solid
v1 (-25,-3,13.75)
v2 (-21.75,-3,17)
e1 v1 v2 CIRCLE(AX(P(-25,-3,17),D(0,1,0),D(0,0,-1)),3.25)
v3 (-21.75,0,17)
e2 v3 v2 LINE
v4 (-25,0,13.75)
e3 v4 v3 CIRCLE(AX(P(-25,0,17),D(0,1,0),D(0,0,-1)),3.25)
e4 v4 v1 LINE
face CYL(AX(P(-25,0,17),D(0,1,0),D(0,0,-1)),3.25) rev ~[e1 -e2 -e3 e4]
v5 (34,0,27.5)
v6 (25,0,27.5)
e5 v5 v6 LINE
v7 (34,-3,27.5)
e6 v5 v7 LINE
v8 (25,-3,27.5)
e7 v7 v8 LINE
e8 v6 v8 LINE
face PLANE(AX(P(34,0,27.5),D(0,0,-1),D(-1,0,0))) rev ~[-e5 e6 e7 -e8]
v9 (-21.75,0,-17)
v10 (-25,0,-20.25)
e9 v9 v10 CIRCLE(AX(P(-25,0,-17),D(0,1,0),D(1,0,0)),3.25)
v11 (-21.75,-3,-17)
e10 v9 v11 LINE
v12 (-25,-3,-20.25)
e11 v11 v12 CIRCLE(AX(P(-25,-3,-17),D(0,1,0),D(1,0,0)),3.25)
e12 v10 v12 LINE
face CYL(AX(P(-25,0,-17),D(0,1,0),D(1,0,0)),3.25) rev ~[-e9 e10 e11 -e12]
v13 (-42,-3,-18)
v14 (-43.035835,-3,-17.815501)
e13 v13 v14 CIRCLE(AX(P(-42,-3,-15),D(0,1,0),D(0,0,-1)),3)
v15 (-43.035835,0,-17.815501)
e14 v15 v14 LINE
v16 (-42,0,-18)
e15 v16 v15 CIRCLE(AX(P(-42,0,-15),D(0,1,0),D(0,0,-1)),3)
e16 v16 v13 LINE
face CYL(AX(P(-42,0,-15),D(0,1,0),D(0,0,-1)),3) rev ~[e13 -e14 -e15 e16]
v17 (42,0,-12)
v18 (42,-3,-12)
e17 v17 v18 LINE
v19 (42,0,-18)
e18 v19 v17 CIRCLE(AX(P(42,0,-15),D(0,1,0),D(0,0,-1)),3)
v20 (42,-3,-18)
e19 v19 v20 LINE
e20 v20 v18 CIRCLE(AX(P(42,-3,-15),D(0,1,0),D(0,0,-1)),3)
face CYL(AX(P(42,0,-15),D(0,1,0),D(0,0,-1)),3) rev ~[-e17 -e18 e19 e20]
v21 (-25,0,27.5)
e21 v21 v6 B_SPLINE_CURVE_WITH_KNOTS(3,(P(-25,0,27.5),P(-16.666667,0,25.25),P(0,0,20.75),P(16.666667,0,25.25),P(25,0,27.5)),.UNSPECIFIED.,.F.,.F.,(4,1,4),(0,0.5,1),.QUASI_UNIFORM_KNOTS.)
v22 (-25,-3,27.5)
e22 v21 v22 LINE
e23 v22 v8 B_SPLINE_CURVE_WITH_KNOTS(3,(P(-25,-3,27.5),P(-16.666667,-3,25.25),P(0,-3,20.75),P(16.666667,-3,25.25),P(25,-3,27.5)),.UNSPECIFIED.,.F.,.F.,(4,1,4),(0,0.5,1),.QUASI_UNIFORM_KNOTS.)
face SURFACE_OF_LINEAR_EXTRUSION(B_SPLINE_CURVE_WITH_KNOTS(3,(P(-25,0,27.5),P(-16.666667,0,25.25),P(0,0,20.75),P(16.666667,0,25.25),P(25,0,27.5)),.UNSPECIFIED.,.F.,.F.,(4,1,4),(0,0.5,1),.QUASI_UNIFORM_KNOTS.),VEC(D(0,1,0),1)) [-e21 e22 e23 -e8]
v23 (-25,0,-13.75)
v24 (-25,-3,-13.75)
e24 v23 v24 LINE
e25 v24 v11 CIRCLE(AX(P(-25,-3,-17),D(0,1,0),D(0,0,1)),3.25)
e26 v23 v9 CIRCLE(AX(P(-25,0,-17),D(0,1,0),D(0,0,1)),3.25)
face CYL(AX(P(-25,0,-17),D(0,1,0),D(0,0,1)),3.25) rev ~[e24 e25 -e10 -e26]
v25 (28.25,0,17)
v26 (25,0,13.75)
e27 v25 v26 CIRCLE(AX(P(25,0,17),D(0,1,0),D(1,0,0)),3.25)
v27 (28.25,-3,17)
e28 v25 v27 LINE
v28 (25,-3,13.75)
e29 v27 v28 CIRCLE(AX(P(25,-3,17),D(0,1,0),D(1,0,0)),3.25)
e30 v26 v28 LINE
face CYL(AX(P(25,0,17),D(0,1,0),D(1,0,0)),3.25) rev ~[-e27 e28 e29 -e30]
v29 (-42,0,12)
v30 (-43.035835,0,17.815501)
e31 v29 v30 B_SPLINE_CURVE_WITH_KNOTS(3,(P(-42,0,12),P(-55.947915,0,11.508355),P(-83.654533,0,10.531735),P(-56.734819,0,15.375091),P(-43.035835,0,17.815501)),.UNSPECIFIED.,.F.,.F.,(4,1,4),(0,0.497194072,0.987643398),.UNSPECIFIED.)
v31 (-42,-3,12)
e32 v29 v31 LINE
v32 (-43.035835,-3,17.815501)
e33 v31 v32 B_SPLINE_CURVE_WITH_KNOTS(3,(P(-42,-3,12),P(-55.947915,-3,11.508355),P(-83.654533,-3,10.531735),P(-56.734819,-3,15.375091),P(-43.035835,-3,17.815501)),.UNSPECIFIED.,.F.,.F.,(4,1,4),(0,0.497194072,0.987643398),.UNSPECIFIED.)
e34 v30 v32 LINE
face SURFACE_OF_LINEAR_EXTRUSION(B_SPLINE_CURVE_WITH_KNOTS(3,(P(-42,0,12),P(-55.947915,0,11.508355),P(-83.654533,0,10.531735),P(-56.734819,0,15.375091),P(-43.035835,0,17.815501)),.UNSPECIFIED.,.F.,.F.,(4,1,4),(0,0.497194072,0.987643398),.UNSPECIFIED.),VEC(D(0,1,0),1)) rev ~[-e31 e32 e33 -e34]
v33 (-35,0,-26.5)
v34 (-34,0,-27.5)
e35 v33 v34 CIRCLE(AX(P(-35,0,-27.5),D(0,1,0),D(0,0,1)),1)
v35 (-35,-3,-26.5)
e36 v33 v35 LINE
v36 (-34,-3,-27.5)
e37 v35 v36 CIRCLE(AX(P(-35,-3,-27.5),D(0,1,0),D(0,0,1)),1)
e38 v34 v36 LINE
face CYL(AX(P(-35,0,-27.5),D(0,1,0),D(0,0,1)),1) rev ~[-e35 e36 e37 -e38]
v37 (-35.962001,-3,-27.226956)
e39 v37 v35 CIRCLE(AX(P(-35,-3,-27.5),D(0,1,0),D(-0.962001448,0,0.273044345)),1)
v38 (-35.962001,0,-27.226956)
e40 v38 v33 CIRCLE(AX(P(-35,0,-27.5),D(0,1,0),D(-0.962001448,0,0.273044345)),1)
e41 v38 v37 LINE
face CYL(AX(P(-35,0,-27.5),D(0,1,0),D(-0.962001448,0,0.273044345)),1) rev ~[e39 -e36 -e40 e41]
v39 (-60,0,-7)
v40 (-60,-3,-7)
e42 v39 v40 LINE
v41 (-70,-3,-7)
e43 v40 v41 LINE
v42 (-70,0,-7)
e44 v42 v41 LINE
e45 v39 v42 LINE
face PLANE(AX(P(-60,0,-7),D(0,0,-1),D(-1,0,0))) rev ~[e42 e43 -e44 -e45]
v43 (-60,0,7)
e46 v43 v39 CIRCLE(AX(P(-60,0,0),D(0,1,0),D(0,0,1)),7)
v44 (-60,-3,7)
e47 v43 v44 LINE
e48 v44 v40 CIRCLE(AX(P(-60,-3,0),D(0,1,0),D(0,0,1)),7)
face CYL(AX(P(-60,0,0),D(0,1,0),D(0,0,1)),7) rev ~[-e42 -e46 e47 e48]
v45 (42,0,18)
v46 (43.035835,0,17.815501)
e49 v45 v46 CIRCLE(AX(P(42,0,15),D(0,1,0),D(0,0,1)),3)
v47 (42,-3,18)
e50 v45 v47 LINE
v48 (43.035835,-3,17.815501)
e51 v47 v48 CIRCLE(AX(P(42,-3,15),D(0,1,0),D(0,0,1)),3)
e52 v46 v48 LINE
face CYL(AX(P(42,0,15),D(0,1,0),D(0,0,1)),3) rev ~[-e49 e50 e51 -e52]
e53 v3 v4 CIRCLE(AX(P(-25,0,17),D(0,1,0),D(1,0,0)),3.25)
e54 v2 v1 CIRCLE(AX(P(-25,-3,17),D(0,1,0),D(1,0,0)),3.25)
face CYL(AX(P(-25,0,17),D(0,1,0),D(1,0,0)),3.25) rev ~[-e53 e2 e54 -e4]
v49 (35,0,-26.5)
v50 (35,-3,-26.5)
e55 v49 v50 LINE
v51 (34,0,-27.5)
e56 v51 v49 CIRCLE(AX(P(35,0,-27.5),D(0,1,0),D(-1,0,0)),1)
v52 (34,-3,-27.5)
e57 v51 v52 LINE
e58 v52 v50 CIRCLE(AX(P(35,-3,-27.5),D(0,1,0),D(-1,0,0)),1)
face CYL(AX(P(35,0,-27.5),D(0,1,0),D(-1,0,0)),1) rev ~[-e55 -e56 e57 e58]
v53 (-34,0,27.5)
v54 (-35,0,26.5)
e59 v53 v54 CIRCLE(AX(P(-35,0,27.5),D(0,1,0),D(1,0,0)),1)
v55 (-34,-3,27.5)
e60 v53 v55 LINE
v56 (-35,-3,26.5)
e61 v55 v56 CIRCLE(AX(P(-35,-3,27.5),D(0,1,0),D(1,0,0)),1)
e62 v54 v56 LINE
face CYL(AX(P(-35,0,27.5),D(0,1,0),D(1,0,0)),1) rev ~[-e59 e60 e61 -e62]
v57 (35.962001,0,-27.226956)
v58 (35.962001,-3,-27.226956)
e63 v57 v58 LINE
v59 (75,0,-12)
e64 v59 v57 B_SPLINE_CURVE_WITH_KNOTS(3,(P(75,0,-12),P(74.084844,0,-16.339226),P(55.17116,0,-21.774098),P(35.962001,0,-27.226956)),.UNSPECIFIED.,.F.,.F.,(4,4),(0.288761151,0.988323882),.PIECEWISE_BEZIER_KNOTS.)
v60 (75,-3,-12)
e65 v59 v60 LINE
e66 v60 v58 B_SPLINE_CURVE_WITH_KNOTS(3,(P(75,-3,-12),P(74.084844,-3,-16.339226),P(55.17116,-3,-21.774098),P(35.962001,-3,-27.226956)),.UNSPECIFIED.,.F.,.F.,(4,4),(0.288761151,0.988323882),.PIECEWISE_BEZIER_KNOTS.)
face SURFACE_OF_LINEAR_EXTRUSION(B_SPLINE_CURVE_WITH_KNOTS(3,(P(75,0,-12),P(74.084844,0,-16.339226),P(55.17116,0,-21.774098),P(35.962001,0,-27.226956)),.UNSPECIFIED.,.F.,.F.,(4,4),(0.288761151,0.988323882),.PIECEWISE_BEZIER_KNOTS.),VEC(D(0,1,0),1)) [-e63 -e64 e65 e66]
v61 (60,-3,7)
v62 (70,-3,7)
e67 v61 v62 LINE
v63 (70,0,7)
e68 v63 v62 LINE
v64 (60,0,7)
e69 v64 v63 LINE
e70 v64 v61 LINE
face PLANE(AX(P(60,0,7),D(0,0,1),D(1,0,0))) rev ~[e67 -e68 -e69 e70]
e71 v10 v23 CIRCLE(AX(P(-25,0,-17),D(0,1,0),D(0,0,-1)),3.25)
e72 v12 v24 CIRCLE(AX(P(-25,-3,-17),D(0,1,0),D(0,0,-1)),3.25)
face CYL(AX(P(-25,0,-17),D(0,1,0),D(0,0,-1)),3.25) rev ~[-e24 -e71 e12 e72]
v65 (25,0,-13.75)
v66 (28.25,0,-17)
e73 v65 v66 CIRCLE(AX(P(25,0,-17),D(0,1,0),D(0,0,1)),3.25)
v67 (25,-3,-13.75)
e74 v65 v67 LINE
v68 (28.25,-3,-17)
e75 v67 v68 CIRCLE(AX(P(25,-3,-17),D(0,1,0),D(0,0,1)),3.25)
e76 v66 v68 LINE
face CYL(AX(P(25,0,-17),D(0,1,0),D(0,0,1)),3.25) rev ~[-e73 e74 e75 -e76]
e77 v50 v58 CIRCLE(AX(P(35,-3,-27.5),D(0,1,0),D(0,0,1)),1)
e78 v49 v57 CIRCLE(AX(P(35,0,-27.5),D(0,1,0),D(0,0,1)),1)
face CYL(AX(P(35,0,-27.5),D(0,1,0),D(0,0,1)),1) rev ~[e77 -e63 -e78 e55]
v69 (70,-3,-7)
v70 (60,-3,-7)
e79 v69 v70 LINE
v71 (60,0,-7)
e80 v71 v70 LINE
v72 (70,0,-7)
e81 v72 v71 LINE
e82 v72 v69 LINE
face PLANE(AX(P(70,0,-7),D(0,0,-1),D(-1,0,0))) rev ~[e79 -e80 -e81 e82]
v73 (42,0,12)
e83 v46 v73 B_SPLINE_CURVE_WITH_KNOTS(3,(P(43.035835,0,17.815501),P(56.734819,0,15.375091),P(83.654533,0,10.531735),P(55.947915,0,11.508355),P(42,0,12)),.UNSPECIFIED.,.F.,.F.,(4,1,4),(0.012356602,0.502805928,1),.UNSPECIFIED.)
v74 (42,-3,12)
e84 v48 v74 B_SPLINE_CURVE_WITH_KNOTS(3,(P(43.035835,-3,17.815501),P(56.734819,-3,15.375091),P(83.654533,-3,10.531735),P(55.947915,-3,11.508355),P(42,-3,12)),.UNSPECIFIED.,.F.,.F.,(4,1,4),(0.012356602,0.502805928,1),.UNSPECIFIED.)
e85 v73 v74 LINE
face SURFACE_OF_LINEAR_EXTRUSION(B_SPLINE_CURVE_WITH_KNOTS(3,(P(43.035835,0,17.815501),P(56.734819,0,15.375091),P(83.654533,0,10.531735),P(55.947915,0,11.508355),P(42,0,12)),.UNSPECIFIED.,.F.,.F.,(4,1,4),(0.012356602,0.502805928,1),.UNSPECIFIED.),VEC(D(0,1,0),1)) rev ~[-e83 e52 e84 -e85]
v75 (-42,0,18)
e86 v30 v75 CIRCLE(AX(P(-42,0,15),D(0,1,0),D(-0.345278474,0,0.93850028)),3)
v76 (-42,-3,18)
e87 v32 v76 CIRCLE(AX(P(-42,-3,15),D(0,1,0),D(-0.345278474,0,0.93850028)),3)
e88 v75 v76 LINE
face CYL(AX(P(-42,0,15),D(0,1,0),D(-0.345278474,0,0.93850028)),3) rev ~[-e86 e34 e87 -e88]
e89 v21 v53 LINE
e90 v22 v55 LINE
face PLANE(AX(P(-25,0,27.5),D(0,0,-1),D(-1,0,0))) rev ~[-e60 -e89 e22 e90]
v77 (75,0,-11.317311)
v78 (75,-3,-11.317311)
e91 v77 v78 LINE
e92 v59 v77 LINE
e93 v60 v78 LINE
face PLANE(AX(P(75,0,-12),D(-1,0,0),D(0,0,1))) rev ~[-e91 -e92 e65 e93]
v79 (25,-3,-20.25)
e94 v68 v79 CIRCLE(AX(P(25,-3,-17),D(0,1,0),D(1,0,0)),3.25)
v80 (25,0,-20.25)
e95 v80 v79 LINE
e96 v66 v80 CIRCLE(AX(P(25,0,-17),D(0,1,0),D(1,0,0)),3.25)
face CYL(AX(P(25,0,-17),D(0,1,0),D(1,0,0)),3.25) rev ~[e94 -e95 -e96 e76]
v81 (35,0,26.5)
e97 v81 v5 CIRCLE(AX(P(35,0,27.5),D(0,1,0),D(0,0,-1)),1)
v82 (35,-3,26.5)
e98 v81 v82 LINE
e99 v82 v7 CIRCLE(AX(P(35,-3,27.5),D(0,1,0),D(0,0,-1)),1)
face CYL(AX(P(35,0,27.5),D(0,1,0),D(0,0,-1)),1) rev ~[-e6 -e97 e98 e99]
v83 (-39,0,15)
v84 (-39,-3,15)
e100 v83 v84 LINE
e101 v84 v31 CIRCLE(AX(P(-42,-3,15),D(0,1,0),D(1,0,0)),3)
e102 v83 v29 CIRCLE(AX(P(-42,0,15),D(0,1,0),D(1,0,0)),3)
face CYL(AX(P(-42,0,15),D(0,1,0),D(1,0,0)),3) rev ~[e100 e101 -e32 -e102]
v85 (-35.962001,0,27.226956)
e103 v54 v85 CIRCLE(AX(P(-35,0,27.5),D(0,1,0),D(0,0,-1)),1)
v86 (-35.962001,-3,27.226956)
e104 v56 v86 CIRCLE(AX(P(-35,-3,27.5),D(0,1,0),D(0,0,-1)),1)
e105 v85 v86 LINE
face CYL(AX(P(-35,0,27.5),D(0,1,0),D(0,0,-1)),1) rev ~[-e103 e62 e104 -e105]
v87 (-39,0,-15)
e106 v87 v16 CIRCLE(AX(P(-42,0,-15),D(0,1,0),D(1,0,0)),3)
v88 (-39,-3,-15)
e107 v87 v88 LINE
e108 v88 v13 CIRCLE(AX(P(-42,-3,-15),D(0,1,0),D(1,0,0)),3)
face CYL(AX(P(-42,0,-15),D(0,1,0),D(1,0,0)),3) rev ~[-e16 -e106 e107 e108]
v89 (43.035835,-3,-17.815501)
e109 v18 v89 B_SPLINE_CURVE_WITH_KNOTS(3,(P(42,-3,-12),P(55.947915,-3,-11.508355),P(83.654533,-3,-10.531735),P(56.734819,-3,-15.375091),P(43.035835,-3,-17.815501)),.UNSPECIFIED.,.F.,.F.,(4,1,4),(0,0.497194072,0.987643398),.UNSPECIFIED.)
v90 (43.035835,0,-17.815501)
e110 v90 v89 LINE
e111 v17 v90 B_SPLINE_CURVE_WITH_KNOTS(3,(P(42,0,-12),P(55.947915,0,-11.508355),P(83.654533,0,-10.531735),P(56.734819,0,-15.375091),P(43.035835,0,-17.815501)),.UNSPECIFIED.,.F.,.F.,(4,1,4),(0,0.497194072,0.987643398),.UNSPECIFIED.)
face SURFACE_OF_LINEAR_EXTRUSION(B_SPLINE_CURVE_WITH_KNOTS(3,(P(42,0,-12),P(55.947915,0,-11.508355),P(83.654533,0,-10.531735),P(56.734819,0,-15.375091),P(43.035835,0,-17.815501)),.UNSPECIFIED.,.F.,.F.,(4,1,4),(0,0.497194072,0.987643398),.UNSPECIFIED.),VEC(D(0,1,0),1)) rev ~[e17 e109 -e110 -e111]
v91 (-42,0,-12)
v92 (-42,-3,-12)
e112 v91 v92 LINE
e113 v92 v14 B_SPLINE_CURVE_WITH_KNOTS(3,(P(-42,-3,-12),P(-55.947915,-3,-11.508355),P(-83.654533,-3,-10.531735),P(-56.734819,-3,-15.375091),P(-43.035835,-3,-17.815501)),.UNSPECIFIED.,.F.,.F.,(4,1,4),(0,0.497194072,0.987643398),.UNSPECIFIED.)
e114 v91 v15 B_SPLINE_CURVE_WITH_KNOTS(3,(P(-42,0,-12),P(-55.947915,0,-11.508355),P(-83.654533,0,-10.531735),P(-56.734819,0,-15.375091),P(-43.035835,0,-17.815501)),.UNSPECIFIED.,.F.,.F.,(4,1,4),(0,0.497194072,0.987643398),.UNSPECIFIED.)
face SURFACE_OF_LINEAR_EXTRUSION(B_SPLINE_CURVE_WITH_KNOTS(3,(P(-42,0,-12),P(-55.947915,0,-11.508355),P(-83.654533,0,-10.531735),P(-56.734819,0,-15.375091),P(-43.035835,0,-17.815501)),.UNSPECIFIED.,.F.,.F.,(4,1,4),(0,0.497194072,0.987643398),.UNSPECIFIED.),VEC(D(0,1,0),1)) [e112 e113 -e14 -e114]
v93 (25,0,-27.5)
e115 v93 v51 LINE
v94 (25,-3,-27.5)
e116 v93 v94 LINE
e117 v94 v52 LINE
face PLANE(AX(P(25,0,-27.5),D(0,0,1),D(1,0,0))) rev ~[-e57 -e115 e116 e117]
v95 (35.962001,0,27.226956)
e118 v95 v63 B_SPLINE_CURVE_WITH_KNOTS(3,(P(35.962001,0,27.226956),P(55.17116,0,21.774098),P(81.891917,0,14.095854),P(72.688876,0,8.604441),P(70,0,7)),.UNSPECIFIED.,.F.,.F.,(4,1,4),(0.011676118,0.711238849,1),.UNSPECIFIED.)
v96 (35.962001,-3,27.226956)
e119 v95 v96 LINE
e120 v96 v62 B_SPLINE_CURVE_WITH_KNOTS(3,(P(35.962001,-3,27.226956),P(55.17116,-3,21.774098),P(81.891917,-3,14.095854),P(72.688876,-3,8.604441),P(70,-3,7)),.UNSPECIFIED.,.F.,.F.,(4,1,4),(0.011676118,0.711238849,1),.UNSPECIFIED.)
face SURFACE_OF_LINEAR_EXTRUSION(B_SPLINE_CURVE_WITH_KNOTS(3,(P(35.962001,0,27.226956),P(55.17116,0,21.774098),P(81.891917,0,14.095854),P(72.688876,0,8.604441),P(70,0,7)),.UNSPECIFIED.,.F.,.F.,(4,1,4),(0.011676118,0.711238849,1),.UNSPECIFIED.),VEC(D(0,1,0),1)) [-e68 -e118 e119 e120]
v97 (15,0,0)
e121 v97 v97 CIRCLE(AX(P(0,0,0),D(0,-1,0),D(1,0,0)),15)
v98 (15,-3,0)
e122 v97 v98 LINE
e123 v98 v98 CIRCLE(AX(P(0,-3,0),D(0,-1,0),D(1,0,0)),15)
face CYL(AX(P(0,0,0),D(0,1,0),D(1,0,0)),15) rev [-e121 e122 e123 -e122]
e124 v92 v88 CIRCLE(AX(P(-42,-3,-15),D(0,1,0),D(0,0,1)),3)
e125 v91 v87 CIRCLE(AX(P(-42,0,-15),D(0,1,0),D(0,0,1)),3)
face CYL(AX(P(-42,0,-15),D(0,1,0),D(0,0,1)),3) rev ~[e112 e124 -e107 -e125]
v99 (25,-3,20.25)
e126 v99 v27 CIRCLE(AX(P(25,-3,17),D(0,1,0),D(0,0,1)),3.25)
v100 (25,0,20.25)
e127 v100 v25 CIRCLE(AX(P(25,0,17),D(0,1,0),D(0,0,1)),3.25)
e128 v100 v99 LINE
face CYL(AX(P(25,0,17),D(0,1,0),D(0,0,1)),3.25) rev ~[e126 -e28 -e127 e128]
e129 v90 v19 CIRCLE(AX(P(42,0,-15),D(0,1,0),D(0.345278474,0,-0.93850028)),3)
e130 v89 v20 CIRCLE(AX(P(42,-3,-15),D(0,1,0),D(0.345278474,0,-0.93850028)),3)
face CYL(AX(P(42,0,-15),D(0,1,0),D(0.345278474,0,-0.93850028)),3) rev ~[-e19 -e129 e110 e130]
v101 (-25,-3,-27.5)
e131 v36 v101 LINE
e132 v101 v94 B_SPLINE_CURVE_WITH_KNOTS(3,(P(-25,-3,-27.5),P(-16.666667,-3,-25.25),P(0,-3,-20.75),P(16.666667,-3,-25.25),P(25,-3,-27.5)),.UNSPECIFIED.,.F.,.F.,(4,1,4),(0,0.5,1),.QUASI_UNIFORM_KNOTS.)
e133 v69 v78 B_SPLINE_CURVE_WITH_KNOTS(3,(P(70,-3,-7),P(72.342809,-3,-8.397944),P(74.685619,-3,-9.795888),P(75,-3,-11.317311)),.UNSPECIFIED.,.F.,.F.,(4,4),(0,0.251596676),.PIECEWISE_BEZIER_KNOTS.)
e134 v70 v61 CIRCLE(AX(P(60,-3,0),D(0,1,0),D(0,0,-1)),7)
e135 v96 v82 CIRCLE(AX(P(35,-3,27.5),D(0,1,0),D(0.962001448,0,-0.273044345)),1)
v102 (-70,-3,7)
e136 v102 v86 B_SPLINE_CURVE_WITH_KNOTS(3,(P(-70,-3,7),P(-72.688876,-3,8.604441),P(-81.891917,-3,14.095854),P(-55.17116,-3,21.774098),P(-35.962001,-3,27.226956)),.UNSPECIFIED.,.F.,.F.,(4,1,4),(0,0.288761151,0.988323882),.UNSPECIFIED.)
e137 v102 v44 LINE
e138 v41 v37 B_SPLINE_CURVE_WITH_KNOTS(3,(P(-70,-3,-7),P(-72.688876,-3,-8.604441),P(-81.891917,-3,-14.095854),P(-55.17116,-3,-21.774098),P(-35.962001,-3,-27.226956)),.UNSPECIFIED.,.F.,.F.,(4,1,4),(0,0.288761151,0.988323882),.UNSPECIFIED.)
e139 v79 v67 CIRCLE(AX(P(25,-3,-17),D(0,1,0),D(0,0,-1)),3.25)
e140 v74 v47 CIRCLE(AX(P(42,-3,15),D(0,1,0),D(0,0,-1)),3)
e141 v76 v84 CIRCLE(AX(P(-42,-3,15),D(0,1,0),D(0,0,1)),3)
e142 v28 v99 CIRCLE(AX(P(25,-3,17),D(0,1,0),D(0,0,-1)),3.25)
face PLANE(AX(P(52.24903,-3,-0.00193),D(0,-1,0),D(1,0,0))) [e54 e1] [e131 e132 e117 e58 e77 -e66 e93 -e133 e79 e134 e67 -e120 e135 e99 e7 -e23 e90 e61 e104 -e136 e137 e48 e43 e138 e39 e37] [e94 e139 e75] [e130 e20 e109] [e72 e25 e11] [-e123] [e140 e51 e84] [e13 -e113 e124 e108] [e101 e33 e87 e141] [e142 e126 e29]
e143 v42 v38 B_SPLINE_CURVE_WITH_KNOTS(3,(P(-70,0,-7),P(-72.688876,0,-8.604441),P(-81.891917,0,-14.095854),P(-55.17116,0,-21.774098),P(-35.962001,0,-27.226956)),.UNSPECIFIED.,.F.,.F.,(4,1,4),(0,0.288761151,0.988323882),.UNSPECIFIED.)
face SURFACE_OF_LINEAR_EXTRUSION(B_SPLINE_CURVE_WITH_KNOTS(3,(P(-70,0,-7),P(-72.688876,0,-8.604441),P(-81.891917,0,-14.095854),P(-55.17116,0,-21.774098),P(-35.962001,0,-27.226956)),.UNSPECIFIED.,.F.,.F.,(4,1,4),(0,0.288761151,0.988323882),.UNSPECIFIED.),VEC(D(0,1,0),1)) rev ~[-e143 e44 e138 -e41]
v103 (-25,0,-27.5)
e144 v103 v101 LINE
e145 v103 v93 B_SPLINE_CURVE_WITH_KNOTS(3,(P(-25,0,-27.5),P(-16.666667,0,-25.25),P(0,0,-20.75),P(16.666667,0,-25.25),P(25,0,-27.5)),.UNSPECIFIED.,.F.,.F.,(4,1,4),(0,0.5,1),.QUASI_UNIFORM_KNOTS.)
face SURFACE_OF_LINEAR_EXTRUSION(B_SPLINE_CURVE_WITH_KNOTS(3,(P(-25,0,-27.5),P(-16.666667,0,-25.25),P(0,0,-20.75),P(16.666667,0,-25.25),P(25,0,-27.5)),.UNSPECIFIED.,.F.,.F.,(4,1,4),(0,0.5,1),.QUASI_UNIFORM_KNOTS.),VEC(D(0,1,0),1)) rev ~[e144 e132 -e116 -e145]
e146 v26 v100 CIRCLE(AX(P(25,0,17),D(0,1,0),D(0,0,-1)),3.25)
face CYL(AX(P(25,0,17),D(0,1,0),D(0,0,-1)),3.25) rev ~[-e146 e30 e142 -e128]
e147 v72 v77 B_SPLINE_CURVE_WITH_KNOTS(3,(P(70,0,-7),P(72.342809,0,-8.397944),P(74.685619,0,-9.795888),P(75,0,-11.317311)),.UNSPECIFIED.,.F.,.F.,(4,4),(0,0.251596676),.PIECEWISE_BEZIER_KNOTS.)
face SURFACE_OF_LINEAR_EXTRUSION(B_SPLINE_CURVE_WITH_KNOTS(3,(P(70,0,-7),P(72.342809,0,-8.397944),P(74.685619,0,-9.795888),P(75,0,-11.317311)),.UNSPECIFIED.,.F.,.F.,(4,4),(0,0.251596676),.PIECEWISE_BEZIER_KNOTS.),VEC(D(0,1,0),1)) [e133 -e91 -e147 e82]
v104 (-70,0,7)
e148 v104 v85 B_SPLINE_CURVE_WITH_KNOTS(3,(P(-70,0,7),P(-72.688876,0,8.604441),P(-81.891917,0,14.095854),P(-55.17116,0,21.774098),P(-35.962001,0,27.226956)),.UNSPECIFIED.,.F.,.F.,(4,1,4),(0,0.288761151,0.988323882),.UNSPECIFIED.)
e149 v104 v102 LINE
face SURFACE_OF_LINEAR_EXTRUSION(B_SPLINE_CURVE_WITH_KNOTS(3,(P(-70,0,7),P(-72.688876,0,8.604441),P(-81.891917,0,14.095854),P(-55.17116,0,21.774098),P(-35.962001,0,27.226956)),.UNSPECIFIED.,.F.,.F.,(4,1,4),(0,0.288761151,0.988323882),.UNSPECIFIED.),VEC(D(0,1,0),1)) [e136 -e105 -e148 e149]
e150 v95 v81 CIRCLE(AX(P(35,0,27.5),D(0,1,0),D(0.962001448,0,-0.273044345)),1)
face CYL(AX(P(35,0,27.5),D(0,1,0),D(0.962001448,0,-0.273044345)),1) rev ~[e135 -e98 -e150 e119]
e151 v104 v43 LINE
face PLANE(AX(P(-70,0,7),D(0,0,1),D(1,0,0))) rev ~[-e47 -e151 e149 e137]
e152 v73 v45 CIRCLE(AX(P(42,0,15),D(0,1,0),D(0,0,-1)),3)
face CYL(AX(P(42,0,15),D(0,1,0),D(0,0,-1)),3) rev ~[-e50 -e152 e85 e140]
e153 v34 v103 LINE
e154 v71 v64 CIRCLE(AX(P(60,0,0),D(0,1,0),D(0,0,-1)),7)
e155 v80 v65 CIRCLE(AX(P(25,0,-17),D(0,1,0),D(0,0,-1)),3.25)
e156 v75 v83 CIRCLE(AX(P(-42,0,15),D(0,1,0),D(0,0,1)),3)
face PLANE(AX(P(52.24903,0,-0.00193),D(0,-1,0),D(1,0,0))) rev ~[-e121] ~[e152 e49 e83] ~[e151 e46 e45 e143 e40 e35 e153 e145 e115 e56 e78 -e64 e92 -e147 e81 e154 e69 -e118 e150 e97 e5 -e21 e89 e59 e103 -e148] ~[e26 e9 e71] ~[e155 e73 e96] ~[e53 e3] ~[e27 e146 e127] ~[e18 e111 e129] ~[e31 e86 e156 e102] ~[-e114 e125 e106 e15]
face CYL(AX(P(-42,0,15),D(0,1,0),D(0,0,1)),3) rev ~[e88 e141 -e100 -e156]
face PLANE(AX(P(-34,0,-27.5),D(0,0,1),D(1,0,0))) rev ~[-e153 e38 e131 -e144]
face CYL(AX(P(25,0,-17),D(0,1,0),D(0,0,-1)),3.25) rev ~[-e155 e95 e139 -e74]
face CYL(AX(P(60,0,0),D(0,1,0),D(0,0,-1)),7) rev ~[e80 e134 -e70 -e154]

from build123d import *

# Parameters (mm, degrees)
F0_R     = 15
F1_DEPTH = 3
F2_DEPTH = 3
F3_DEPTH = 3


with BuildPart() as f1:
    # F0 (on Front) → F1 (new body)
    with BuildSketch(Plane.XZ):
        with BuildLine():
            ThreePointArc((-34, 27.5), (-34.2928932188, 26.7928932188), (-35, 26.5))
            Line((-35, 26.5), (-35, -26.5))
            ThreePointArc((-35, -26.5), (-34.2928932188, -26.7928932188), (-34, -27.5))
            Line((-34, -27.5), (-25, -27.5))
            add(Edge.make_bspline(
                [(-25, -27.5), (-16.6666666667, -25.25), (0, -20.75), (16.6666666667, -25.25), (25, -27.5)],
                knots=[0, 0, 0, 0, 0.5, 1, 1, 1, 1], degree=3))
            Line((25, -27.5), (34, -27.5))
            ThreePointArc((34, -27.5), (34.2928932188, -26.7928932188), (35, -26.5))
            Line((35, -26.5), (35, 26.5))
            ThreePointArc((35, 26.5), (34.2928932188, 26.7928932188), (34, 27.5))
            Line((34, 27.5), (25, 27.5))
            add(Edge.make_bspline(
                [(-25, 27.5), (-16.6666666667, 25.25), (0, 20.75), (16.6666666667, 25.25), (25, 27.5)],
                knots=[0, 0, 0, 0, 0.5, 1, 1, 1, 1], degree=3))
            Line((-25, 27.5), (-34, 27.5))
        make_face()
        with BuildLine():
            ThreePointArc((-21.75, -17), (-22.7019029611, -19.2980970389), (-25, -20.25))
            ThreePointArc((-25, -20.25), (-28.25, -17), (-25, -13.75))
            ThreePointArc((-25, -13.75), (-22.7019029611, -14.7019029611), (-21.75, -17))
        make_face(mode=Mode.SUBTRACT)
        with BuildLine():
            ThreePointArc((25, -13.75), (27.2980970389, -14.7019029611), (28.25, -17))
            ThreePointArc((28.25, -17), (27.2980970389, -19.2980970389), (25, -20.25))
            ThreePointArc((25, -20.25), (21.75, -17), (25, -13.75))
        make_face(mode=Mode.SUBTRACT)
        with BuildLine():
            ThreePointArc((-25, 13.75), (-27.2980970389, 19.2980970389), (-21.75, 17))
            ThreePointArc((-21.75, 17), (-22.7019029611, 14.7019029611), (-25, 13.75))
        make_face(mode=Mode.SUBTRACT)
        Circle(F0_R, mode=Mode.SUBTRACT)
        with BuildLine():
            ThreePointArc((25, 13.75), (21.75, 17), (25, 20.25))
            ThreePointArc((25, 20.25), (27.2980970389, 19.2980970389), (28.25, 17))
            ThreePointArc((28.25, 17), (27.2980970389, 14.7019029611), (25, 13.75))
        make_face(mode=Mode.SUBTRACT)
    extrude(amount=F1_DEPTH)

    # F0 (on Front) → F2 (join)
    with BuildSketch(Plane.XZ):
        with BuildLine():
            Line((-35, -26.5), (-35, 26.5))
            ThreePointArc((-35, 26.5), (-35.6028912237, 26.7021766033), (-35.9620014479, 27.2269556553))
            add(Edge.make_bspline(
                [(-70, 7), (-72.688876213, 8.6044405487), (-81.8919167368, 14.0958541424), (-55.1711599351, 21.7740976852), (-35.9620014479, 27.2269556553)],
                knots=[0, 0, 0, 0, 0.2887611513, 0.9883238821, 0.9883238821, 0.9883238821, 0.9883238821], degree=3))
            Line((-70, 7), (-60, 7))
            ThreePointArc((-60, 7), (-53, 0), (-60, -7))
            Line((-60, -7), (-70, -7))
            add(Edge.make_bspline(
                [(-70, -7), (-72.688876213, -8.6044405487), (-81.8919167368, -14.0958541424), (-55.1711599351, -21.7740976852), (-35.9620014479, -27.2269556553)],
                knots=[0, 0, 0, 0, 0.2887611513, 0.9883238821, 0.9883238821, 0.9883238821, 0.9883238821], degree=3))
            ThreePointArc((-35.9620014479, -27.2269556553), (-35.6028912237, -26.7021766033), (-35, -26.5))
        make_face()
        with BuildLine():
            add(Edge.make_bspline(
                [(-42, -12), (-55.9479149703, -11.5083551498), (-83.6545328023, -10.5317349163), (-56.7348192901, -15.3750907079), (-43.0358354206, -17.8155008402)],
                knots=[0, 0, 0, 0, 0.497194072, 0.9876433983, 0.9876433983, 0.9876433983, 0.9876433983], degree=3))
            ThreePointArc((-42, -12), (-39.8786796564, -12.8786796564), (-39, -15))
            ThreePointArc((-39, -15), (-39.8786796564, -17.1213203436), (-42, -18))
            ThreePointArc((-42, -18), (-42.5260691396, -17.9535150686), (-43.0358354206, -17.8155008402))
        make_face(mode=Mode.SUBTRACT)
        with BuildLine():
            ThreePointArc((-39, 15), (-39.8786796564, 12.8786796564), (-42, 12))
            add(Edge.make_bspline(
                [(-42, 12), (-55.9479149703, 11.5083551498), (-83.6545328023, 10.5317349163), (-56.7348192901, 15.3750907079), (-43.0358354206, 17.8155008402)],
                knots=[0, 0, 0, 0, 0.497194072, 0.9876433983, 0.9876433983, 0.9876433983, 0.9876433983], degree=3))
            ThreePointArc((-43.0358354206, 17.8155008402), (-42.5260691396, 17.9535150686), (-42, 18))
            ThreePointArc((-42, 18), (-39.8786796564, 17.1213203436), (-39, 15))
        make_face(mode=Mode.SUBTRACT)
    extrude(amount=F2_DEPTH)

    # F0 (on Front) → F3 (join)
    with BuildSketch(Plane.XZ):
        with BuildLine():
            ThreePointArc((35.9620014479, 27.2269556553), (35.6028912237, 26.7021766033), (35, 26.5))
            Line((35, 26.5), (35, -26.5))
            ThreePointArc((35, -26.5), (35.6028912237, -26.7021766033), (35.9620014479, -27.2269556553))
            add(Edge.make_bspline(
                [(75, -12), (74.084843936, -16.3392264677), (55.1711599351, -21.7740976852), (35.9620014479, -27.2269556553)],
                knots=[0.2887611513, 0.2887611513, 0.2887611513, 0.2887611513, 0.9883238821, 0.9883238821, 0.9883238821, 0.9883238821], degree=3))
            Line((75, -12), (75, -11.3173106911))
            add(Edge.make_bspline(
                [(70, -7), (72.3428093254, -8.3979439668), (74.6856186508, -9.7958879337), (75, -11.3173106911)],
                knots=[0, 0, 0, 0, 0.2515966763, 0.2515966763, 0.2515966763, 0.2515966763], degree=3))
            Line((70, -7), (60, -7))
            ThreePointArc((60, -7), (53, 0), (60, 7))
            Line((60, 7), (70, 7))
            add(Edge.make_bspline(
                [(35.9620014479, 27.2269556553), (55.1711599351, 21.7740976852), (81.8919167368, 14.0958541424), (72.688876213, 8.6044405487), (70, 7)],
                knots=[0.0116761179, 0.0116761179, 0.0116761179, 0.0116761179, 0.7112388487, 1, 1, 1, 1], degree=3))
        make_face()
        with BuildLine():
            ThreePointArc((42, -18), (39, -15), (42, -12))
            add(Edge.make_bspline(
                [(42, -12), (55.9479149703, -11.5083551498), (83.6545328023, -10.5317349163), (56.7348192901, -15.3750907079), (43.0358354206, -17.8155008402)],
                knots=[0, 0, 0, 0, 0.497194072, 0.9876433983, 0.9876433983, 0.9876433983, 0.9876433983], degree=3))
            ThreePointArc((43.0358354206, -17.8155008402), (42.5260691396, -17.9535150686), (42, -18))
        make_face(mode=Mode.SUBTRACT)
        with BuildLine():
            add(Edge.make_bspline(
                [(43.0358354206, 17.8155008402), (56.7348192901, 15.3750907079), (83.6545328023, 10.5317349163), (55.9479149703, 11.5083551498), (42, 12)],
                knots=[0.0123566017, 0.0123566017, 0.0123566017, 0.0123566017, 0.502805928, 1, 1, 1, 1], degree=3))
            ThreePointArc((42, 12), (39, 15), (42, 18))
            ThreePointArc((42, 18), (42.5260691396, 17.9535150686), (43.0358354206, 17.8155008402))
        make_face(mode=Mode.SUBTRACT)
    extrude(amount=F3_DEPTH)


solid = f1.part
